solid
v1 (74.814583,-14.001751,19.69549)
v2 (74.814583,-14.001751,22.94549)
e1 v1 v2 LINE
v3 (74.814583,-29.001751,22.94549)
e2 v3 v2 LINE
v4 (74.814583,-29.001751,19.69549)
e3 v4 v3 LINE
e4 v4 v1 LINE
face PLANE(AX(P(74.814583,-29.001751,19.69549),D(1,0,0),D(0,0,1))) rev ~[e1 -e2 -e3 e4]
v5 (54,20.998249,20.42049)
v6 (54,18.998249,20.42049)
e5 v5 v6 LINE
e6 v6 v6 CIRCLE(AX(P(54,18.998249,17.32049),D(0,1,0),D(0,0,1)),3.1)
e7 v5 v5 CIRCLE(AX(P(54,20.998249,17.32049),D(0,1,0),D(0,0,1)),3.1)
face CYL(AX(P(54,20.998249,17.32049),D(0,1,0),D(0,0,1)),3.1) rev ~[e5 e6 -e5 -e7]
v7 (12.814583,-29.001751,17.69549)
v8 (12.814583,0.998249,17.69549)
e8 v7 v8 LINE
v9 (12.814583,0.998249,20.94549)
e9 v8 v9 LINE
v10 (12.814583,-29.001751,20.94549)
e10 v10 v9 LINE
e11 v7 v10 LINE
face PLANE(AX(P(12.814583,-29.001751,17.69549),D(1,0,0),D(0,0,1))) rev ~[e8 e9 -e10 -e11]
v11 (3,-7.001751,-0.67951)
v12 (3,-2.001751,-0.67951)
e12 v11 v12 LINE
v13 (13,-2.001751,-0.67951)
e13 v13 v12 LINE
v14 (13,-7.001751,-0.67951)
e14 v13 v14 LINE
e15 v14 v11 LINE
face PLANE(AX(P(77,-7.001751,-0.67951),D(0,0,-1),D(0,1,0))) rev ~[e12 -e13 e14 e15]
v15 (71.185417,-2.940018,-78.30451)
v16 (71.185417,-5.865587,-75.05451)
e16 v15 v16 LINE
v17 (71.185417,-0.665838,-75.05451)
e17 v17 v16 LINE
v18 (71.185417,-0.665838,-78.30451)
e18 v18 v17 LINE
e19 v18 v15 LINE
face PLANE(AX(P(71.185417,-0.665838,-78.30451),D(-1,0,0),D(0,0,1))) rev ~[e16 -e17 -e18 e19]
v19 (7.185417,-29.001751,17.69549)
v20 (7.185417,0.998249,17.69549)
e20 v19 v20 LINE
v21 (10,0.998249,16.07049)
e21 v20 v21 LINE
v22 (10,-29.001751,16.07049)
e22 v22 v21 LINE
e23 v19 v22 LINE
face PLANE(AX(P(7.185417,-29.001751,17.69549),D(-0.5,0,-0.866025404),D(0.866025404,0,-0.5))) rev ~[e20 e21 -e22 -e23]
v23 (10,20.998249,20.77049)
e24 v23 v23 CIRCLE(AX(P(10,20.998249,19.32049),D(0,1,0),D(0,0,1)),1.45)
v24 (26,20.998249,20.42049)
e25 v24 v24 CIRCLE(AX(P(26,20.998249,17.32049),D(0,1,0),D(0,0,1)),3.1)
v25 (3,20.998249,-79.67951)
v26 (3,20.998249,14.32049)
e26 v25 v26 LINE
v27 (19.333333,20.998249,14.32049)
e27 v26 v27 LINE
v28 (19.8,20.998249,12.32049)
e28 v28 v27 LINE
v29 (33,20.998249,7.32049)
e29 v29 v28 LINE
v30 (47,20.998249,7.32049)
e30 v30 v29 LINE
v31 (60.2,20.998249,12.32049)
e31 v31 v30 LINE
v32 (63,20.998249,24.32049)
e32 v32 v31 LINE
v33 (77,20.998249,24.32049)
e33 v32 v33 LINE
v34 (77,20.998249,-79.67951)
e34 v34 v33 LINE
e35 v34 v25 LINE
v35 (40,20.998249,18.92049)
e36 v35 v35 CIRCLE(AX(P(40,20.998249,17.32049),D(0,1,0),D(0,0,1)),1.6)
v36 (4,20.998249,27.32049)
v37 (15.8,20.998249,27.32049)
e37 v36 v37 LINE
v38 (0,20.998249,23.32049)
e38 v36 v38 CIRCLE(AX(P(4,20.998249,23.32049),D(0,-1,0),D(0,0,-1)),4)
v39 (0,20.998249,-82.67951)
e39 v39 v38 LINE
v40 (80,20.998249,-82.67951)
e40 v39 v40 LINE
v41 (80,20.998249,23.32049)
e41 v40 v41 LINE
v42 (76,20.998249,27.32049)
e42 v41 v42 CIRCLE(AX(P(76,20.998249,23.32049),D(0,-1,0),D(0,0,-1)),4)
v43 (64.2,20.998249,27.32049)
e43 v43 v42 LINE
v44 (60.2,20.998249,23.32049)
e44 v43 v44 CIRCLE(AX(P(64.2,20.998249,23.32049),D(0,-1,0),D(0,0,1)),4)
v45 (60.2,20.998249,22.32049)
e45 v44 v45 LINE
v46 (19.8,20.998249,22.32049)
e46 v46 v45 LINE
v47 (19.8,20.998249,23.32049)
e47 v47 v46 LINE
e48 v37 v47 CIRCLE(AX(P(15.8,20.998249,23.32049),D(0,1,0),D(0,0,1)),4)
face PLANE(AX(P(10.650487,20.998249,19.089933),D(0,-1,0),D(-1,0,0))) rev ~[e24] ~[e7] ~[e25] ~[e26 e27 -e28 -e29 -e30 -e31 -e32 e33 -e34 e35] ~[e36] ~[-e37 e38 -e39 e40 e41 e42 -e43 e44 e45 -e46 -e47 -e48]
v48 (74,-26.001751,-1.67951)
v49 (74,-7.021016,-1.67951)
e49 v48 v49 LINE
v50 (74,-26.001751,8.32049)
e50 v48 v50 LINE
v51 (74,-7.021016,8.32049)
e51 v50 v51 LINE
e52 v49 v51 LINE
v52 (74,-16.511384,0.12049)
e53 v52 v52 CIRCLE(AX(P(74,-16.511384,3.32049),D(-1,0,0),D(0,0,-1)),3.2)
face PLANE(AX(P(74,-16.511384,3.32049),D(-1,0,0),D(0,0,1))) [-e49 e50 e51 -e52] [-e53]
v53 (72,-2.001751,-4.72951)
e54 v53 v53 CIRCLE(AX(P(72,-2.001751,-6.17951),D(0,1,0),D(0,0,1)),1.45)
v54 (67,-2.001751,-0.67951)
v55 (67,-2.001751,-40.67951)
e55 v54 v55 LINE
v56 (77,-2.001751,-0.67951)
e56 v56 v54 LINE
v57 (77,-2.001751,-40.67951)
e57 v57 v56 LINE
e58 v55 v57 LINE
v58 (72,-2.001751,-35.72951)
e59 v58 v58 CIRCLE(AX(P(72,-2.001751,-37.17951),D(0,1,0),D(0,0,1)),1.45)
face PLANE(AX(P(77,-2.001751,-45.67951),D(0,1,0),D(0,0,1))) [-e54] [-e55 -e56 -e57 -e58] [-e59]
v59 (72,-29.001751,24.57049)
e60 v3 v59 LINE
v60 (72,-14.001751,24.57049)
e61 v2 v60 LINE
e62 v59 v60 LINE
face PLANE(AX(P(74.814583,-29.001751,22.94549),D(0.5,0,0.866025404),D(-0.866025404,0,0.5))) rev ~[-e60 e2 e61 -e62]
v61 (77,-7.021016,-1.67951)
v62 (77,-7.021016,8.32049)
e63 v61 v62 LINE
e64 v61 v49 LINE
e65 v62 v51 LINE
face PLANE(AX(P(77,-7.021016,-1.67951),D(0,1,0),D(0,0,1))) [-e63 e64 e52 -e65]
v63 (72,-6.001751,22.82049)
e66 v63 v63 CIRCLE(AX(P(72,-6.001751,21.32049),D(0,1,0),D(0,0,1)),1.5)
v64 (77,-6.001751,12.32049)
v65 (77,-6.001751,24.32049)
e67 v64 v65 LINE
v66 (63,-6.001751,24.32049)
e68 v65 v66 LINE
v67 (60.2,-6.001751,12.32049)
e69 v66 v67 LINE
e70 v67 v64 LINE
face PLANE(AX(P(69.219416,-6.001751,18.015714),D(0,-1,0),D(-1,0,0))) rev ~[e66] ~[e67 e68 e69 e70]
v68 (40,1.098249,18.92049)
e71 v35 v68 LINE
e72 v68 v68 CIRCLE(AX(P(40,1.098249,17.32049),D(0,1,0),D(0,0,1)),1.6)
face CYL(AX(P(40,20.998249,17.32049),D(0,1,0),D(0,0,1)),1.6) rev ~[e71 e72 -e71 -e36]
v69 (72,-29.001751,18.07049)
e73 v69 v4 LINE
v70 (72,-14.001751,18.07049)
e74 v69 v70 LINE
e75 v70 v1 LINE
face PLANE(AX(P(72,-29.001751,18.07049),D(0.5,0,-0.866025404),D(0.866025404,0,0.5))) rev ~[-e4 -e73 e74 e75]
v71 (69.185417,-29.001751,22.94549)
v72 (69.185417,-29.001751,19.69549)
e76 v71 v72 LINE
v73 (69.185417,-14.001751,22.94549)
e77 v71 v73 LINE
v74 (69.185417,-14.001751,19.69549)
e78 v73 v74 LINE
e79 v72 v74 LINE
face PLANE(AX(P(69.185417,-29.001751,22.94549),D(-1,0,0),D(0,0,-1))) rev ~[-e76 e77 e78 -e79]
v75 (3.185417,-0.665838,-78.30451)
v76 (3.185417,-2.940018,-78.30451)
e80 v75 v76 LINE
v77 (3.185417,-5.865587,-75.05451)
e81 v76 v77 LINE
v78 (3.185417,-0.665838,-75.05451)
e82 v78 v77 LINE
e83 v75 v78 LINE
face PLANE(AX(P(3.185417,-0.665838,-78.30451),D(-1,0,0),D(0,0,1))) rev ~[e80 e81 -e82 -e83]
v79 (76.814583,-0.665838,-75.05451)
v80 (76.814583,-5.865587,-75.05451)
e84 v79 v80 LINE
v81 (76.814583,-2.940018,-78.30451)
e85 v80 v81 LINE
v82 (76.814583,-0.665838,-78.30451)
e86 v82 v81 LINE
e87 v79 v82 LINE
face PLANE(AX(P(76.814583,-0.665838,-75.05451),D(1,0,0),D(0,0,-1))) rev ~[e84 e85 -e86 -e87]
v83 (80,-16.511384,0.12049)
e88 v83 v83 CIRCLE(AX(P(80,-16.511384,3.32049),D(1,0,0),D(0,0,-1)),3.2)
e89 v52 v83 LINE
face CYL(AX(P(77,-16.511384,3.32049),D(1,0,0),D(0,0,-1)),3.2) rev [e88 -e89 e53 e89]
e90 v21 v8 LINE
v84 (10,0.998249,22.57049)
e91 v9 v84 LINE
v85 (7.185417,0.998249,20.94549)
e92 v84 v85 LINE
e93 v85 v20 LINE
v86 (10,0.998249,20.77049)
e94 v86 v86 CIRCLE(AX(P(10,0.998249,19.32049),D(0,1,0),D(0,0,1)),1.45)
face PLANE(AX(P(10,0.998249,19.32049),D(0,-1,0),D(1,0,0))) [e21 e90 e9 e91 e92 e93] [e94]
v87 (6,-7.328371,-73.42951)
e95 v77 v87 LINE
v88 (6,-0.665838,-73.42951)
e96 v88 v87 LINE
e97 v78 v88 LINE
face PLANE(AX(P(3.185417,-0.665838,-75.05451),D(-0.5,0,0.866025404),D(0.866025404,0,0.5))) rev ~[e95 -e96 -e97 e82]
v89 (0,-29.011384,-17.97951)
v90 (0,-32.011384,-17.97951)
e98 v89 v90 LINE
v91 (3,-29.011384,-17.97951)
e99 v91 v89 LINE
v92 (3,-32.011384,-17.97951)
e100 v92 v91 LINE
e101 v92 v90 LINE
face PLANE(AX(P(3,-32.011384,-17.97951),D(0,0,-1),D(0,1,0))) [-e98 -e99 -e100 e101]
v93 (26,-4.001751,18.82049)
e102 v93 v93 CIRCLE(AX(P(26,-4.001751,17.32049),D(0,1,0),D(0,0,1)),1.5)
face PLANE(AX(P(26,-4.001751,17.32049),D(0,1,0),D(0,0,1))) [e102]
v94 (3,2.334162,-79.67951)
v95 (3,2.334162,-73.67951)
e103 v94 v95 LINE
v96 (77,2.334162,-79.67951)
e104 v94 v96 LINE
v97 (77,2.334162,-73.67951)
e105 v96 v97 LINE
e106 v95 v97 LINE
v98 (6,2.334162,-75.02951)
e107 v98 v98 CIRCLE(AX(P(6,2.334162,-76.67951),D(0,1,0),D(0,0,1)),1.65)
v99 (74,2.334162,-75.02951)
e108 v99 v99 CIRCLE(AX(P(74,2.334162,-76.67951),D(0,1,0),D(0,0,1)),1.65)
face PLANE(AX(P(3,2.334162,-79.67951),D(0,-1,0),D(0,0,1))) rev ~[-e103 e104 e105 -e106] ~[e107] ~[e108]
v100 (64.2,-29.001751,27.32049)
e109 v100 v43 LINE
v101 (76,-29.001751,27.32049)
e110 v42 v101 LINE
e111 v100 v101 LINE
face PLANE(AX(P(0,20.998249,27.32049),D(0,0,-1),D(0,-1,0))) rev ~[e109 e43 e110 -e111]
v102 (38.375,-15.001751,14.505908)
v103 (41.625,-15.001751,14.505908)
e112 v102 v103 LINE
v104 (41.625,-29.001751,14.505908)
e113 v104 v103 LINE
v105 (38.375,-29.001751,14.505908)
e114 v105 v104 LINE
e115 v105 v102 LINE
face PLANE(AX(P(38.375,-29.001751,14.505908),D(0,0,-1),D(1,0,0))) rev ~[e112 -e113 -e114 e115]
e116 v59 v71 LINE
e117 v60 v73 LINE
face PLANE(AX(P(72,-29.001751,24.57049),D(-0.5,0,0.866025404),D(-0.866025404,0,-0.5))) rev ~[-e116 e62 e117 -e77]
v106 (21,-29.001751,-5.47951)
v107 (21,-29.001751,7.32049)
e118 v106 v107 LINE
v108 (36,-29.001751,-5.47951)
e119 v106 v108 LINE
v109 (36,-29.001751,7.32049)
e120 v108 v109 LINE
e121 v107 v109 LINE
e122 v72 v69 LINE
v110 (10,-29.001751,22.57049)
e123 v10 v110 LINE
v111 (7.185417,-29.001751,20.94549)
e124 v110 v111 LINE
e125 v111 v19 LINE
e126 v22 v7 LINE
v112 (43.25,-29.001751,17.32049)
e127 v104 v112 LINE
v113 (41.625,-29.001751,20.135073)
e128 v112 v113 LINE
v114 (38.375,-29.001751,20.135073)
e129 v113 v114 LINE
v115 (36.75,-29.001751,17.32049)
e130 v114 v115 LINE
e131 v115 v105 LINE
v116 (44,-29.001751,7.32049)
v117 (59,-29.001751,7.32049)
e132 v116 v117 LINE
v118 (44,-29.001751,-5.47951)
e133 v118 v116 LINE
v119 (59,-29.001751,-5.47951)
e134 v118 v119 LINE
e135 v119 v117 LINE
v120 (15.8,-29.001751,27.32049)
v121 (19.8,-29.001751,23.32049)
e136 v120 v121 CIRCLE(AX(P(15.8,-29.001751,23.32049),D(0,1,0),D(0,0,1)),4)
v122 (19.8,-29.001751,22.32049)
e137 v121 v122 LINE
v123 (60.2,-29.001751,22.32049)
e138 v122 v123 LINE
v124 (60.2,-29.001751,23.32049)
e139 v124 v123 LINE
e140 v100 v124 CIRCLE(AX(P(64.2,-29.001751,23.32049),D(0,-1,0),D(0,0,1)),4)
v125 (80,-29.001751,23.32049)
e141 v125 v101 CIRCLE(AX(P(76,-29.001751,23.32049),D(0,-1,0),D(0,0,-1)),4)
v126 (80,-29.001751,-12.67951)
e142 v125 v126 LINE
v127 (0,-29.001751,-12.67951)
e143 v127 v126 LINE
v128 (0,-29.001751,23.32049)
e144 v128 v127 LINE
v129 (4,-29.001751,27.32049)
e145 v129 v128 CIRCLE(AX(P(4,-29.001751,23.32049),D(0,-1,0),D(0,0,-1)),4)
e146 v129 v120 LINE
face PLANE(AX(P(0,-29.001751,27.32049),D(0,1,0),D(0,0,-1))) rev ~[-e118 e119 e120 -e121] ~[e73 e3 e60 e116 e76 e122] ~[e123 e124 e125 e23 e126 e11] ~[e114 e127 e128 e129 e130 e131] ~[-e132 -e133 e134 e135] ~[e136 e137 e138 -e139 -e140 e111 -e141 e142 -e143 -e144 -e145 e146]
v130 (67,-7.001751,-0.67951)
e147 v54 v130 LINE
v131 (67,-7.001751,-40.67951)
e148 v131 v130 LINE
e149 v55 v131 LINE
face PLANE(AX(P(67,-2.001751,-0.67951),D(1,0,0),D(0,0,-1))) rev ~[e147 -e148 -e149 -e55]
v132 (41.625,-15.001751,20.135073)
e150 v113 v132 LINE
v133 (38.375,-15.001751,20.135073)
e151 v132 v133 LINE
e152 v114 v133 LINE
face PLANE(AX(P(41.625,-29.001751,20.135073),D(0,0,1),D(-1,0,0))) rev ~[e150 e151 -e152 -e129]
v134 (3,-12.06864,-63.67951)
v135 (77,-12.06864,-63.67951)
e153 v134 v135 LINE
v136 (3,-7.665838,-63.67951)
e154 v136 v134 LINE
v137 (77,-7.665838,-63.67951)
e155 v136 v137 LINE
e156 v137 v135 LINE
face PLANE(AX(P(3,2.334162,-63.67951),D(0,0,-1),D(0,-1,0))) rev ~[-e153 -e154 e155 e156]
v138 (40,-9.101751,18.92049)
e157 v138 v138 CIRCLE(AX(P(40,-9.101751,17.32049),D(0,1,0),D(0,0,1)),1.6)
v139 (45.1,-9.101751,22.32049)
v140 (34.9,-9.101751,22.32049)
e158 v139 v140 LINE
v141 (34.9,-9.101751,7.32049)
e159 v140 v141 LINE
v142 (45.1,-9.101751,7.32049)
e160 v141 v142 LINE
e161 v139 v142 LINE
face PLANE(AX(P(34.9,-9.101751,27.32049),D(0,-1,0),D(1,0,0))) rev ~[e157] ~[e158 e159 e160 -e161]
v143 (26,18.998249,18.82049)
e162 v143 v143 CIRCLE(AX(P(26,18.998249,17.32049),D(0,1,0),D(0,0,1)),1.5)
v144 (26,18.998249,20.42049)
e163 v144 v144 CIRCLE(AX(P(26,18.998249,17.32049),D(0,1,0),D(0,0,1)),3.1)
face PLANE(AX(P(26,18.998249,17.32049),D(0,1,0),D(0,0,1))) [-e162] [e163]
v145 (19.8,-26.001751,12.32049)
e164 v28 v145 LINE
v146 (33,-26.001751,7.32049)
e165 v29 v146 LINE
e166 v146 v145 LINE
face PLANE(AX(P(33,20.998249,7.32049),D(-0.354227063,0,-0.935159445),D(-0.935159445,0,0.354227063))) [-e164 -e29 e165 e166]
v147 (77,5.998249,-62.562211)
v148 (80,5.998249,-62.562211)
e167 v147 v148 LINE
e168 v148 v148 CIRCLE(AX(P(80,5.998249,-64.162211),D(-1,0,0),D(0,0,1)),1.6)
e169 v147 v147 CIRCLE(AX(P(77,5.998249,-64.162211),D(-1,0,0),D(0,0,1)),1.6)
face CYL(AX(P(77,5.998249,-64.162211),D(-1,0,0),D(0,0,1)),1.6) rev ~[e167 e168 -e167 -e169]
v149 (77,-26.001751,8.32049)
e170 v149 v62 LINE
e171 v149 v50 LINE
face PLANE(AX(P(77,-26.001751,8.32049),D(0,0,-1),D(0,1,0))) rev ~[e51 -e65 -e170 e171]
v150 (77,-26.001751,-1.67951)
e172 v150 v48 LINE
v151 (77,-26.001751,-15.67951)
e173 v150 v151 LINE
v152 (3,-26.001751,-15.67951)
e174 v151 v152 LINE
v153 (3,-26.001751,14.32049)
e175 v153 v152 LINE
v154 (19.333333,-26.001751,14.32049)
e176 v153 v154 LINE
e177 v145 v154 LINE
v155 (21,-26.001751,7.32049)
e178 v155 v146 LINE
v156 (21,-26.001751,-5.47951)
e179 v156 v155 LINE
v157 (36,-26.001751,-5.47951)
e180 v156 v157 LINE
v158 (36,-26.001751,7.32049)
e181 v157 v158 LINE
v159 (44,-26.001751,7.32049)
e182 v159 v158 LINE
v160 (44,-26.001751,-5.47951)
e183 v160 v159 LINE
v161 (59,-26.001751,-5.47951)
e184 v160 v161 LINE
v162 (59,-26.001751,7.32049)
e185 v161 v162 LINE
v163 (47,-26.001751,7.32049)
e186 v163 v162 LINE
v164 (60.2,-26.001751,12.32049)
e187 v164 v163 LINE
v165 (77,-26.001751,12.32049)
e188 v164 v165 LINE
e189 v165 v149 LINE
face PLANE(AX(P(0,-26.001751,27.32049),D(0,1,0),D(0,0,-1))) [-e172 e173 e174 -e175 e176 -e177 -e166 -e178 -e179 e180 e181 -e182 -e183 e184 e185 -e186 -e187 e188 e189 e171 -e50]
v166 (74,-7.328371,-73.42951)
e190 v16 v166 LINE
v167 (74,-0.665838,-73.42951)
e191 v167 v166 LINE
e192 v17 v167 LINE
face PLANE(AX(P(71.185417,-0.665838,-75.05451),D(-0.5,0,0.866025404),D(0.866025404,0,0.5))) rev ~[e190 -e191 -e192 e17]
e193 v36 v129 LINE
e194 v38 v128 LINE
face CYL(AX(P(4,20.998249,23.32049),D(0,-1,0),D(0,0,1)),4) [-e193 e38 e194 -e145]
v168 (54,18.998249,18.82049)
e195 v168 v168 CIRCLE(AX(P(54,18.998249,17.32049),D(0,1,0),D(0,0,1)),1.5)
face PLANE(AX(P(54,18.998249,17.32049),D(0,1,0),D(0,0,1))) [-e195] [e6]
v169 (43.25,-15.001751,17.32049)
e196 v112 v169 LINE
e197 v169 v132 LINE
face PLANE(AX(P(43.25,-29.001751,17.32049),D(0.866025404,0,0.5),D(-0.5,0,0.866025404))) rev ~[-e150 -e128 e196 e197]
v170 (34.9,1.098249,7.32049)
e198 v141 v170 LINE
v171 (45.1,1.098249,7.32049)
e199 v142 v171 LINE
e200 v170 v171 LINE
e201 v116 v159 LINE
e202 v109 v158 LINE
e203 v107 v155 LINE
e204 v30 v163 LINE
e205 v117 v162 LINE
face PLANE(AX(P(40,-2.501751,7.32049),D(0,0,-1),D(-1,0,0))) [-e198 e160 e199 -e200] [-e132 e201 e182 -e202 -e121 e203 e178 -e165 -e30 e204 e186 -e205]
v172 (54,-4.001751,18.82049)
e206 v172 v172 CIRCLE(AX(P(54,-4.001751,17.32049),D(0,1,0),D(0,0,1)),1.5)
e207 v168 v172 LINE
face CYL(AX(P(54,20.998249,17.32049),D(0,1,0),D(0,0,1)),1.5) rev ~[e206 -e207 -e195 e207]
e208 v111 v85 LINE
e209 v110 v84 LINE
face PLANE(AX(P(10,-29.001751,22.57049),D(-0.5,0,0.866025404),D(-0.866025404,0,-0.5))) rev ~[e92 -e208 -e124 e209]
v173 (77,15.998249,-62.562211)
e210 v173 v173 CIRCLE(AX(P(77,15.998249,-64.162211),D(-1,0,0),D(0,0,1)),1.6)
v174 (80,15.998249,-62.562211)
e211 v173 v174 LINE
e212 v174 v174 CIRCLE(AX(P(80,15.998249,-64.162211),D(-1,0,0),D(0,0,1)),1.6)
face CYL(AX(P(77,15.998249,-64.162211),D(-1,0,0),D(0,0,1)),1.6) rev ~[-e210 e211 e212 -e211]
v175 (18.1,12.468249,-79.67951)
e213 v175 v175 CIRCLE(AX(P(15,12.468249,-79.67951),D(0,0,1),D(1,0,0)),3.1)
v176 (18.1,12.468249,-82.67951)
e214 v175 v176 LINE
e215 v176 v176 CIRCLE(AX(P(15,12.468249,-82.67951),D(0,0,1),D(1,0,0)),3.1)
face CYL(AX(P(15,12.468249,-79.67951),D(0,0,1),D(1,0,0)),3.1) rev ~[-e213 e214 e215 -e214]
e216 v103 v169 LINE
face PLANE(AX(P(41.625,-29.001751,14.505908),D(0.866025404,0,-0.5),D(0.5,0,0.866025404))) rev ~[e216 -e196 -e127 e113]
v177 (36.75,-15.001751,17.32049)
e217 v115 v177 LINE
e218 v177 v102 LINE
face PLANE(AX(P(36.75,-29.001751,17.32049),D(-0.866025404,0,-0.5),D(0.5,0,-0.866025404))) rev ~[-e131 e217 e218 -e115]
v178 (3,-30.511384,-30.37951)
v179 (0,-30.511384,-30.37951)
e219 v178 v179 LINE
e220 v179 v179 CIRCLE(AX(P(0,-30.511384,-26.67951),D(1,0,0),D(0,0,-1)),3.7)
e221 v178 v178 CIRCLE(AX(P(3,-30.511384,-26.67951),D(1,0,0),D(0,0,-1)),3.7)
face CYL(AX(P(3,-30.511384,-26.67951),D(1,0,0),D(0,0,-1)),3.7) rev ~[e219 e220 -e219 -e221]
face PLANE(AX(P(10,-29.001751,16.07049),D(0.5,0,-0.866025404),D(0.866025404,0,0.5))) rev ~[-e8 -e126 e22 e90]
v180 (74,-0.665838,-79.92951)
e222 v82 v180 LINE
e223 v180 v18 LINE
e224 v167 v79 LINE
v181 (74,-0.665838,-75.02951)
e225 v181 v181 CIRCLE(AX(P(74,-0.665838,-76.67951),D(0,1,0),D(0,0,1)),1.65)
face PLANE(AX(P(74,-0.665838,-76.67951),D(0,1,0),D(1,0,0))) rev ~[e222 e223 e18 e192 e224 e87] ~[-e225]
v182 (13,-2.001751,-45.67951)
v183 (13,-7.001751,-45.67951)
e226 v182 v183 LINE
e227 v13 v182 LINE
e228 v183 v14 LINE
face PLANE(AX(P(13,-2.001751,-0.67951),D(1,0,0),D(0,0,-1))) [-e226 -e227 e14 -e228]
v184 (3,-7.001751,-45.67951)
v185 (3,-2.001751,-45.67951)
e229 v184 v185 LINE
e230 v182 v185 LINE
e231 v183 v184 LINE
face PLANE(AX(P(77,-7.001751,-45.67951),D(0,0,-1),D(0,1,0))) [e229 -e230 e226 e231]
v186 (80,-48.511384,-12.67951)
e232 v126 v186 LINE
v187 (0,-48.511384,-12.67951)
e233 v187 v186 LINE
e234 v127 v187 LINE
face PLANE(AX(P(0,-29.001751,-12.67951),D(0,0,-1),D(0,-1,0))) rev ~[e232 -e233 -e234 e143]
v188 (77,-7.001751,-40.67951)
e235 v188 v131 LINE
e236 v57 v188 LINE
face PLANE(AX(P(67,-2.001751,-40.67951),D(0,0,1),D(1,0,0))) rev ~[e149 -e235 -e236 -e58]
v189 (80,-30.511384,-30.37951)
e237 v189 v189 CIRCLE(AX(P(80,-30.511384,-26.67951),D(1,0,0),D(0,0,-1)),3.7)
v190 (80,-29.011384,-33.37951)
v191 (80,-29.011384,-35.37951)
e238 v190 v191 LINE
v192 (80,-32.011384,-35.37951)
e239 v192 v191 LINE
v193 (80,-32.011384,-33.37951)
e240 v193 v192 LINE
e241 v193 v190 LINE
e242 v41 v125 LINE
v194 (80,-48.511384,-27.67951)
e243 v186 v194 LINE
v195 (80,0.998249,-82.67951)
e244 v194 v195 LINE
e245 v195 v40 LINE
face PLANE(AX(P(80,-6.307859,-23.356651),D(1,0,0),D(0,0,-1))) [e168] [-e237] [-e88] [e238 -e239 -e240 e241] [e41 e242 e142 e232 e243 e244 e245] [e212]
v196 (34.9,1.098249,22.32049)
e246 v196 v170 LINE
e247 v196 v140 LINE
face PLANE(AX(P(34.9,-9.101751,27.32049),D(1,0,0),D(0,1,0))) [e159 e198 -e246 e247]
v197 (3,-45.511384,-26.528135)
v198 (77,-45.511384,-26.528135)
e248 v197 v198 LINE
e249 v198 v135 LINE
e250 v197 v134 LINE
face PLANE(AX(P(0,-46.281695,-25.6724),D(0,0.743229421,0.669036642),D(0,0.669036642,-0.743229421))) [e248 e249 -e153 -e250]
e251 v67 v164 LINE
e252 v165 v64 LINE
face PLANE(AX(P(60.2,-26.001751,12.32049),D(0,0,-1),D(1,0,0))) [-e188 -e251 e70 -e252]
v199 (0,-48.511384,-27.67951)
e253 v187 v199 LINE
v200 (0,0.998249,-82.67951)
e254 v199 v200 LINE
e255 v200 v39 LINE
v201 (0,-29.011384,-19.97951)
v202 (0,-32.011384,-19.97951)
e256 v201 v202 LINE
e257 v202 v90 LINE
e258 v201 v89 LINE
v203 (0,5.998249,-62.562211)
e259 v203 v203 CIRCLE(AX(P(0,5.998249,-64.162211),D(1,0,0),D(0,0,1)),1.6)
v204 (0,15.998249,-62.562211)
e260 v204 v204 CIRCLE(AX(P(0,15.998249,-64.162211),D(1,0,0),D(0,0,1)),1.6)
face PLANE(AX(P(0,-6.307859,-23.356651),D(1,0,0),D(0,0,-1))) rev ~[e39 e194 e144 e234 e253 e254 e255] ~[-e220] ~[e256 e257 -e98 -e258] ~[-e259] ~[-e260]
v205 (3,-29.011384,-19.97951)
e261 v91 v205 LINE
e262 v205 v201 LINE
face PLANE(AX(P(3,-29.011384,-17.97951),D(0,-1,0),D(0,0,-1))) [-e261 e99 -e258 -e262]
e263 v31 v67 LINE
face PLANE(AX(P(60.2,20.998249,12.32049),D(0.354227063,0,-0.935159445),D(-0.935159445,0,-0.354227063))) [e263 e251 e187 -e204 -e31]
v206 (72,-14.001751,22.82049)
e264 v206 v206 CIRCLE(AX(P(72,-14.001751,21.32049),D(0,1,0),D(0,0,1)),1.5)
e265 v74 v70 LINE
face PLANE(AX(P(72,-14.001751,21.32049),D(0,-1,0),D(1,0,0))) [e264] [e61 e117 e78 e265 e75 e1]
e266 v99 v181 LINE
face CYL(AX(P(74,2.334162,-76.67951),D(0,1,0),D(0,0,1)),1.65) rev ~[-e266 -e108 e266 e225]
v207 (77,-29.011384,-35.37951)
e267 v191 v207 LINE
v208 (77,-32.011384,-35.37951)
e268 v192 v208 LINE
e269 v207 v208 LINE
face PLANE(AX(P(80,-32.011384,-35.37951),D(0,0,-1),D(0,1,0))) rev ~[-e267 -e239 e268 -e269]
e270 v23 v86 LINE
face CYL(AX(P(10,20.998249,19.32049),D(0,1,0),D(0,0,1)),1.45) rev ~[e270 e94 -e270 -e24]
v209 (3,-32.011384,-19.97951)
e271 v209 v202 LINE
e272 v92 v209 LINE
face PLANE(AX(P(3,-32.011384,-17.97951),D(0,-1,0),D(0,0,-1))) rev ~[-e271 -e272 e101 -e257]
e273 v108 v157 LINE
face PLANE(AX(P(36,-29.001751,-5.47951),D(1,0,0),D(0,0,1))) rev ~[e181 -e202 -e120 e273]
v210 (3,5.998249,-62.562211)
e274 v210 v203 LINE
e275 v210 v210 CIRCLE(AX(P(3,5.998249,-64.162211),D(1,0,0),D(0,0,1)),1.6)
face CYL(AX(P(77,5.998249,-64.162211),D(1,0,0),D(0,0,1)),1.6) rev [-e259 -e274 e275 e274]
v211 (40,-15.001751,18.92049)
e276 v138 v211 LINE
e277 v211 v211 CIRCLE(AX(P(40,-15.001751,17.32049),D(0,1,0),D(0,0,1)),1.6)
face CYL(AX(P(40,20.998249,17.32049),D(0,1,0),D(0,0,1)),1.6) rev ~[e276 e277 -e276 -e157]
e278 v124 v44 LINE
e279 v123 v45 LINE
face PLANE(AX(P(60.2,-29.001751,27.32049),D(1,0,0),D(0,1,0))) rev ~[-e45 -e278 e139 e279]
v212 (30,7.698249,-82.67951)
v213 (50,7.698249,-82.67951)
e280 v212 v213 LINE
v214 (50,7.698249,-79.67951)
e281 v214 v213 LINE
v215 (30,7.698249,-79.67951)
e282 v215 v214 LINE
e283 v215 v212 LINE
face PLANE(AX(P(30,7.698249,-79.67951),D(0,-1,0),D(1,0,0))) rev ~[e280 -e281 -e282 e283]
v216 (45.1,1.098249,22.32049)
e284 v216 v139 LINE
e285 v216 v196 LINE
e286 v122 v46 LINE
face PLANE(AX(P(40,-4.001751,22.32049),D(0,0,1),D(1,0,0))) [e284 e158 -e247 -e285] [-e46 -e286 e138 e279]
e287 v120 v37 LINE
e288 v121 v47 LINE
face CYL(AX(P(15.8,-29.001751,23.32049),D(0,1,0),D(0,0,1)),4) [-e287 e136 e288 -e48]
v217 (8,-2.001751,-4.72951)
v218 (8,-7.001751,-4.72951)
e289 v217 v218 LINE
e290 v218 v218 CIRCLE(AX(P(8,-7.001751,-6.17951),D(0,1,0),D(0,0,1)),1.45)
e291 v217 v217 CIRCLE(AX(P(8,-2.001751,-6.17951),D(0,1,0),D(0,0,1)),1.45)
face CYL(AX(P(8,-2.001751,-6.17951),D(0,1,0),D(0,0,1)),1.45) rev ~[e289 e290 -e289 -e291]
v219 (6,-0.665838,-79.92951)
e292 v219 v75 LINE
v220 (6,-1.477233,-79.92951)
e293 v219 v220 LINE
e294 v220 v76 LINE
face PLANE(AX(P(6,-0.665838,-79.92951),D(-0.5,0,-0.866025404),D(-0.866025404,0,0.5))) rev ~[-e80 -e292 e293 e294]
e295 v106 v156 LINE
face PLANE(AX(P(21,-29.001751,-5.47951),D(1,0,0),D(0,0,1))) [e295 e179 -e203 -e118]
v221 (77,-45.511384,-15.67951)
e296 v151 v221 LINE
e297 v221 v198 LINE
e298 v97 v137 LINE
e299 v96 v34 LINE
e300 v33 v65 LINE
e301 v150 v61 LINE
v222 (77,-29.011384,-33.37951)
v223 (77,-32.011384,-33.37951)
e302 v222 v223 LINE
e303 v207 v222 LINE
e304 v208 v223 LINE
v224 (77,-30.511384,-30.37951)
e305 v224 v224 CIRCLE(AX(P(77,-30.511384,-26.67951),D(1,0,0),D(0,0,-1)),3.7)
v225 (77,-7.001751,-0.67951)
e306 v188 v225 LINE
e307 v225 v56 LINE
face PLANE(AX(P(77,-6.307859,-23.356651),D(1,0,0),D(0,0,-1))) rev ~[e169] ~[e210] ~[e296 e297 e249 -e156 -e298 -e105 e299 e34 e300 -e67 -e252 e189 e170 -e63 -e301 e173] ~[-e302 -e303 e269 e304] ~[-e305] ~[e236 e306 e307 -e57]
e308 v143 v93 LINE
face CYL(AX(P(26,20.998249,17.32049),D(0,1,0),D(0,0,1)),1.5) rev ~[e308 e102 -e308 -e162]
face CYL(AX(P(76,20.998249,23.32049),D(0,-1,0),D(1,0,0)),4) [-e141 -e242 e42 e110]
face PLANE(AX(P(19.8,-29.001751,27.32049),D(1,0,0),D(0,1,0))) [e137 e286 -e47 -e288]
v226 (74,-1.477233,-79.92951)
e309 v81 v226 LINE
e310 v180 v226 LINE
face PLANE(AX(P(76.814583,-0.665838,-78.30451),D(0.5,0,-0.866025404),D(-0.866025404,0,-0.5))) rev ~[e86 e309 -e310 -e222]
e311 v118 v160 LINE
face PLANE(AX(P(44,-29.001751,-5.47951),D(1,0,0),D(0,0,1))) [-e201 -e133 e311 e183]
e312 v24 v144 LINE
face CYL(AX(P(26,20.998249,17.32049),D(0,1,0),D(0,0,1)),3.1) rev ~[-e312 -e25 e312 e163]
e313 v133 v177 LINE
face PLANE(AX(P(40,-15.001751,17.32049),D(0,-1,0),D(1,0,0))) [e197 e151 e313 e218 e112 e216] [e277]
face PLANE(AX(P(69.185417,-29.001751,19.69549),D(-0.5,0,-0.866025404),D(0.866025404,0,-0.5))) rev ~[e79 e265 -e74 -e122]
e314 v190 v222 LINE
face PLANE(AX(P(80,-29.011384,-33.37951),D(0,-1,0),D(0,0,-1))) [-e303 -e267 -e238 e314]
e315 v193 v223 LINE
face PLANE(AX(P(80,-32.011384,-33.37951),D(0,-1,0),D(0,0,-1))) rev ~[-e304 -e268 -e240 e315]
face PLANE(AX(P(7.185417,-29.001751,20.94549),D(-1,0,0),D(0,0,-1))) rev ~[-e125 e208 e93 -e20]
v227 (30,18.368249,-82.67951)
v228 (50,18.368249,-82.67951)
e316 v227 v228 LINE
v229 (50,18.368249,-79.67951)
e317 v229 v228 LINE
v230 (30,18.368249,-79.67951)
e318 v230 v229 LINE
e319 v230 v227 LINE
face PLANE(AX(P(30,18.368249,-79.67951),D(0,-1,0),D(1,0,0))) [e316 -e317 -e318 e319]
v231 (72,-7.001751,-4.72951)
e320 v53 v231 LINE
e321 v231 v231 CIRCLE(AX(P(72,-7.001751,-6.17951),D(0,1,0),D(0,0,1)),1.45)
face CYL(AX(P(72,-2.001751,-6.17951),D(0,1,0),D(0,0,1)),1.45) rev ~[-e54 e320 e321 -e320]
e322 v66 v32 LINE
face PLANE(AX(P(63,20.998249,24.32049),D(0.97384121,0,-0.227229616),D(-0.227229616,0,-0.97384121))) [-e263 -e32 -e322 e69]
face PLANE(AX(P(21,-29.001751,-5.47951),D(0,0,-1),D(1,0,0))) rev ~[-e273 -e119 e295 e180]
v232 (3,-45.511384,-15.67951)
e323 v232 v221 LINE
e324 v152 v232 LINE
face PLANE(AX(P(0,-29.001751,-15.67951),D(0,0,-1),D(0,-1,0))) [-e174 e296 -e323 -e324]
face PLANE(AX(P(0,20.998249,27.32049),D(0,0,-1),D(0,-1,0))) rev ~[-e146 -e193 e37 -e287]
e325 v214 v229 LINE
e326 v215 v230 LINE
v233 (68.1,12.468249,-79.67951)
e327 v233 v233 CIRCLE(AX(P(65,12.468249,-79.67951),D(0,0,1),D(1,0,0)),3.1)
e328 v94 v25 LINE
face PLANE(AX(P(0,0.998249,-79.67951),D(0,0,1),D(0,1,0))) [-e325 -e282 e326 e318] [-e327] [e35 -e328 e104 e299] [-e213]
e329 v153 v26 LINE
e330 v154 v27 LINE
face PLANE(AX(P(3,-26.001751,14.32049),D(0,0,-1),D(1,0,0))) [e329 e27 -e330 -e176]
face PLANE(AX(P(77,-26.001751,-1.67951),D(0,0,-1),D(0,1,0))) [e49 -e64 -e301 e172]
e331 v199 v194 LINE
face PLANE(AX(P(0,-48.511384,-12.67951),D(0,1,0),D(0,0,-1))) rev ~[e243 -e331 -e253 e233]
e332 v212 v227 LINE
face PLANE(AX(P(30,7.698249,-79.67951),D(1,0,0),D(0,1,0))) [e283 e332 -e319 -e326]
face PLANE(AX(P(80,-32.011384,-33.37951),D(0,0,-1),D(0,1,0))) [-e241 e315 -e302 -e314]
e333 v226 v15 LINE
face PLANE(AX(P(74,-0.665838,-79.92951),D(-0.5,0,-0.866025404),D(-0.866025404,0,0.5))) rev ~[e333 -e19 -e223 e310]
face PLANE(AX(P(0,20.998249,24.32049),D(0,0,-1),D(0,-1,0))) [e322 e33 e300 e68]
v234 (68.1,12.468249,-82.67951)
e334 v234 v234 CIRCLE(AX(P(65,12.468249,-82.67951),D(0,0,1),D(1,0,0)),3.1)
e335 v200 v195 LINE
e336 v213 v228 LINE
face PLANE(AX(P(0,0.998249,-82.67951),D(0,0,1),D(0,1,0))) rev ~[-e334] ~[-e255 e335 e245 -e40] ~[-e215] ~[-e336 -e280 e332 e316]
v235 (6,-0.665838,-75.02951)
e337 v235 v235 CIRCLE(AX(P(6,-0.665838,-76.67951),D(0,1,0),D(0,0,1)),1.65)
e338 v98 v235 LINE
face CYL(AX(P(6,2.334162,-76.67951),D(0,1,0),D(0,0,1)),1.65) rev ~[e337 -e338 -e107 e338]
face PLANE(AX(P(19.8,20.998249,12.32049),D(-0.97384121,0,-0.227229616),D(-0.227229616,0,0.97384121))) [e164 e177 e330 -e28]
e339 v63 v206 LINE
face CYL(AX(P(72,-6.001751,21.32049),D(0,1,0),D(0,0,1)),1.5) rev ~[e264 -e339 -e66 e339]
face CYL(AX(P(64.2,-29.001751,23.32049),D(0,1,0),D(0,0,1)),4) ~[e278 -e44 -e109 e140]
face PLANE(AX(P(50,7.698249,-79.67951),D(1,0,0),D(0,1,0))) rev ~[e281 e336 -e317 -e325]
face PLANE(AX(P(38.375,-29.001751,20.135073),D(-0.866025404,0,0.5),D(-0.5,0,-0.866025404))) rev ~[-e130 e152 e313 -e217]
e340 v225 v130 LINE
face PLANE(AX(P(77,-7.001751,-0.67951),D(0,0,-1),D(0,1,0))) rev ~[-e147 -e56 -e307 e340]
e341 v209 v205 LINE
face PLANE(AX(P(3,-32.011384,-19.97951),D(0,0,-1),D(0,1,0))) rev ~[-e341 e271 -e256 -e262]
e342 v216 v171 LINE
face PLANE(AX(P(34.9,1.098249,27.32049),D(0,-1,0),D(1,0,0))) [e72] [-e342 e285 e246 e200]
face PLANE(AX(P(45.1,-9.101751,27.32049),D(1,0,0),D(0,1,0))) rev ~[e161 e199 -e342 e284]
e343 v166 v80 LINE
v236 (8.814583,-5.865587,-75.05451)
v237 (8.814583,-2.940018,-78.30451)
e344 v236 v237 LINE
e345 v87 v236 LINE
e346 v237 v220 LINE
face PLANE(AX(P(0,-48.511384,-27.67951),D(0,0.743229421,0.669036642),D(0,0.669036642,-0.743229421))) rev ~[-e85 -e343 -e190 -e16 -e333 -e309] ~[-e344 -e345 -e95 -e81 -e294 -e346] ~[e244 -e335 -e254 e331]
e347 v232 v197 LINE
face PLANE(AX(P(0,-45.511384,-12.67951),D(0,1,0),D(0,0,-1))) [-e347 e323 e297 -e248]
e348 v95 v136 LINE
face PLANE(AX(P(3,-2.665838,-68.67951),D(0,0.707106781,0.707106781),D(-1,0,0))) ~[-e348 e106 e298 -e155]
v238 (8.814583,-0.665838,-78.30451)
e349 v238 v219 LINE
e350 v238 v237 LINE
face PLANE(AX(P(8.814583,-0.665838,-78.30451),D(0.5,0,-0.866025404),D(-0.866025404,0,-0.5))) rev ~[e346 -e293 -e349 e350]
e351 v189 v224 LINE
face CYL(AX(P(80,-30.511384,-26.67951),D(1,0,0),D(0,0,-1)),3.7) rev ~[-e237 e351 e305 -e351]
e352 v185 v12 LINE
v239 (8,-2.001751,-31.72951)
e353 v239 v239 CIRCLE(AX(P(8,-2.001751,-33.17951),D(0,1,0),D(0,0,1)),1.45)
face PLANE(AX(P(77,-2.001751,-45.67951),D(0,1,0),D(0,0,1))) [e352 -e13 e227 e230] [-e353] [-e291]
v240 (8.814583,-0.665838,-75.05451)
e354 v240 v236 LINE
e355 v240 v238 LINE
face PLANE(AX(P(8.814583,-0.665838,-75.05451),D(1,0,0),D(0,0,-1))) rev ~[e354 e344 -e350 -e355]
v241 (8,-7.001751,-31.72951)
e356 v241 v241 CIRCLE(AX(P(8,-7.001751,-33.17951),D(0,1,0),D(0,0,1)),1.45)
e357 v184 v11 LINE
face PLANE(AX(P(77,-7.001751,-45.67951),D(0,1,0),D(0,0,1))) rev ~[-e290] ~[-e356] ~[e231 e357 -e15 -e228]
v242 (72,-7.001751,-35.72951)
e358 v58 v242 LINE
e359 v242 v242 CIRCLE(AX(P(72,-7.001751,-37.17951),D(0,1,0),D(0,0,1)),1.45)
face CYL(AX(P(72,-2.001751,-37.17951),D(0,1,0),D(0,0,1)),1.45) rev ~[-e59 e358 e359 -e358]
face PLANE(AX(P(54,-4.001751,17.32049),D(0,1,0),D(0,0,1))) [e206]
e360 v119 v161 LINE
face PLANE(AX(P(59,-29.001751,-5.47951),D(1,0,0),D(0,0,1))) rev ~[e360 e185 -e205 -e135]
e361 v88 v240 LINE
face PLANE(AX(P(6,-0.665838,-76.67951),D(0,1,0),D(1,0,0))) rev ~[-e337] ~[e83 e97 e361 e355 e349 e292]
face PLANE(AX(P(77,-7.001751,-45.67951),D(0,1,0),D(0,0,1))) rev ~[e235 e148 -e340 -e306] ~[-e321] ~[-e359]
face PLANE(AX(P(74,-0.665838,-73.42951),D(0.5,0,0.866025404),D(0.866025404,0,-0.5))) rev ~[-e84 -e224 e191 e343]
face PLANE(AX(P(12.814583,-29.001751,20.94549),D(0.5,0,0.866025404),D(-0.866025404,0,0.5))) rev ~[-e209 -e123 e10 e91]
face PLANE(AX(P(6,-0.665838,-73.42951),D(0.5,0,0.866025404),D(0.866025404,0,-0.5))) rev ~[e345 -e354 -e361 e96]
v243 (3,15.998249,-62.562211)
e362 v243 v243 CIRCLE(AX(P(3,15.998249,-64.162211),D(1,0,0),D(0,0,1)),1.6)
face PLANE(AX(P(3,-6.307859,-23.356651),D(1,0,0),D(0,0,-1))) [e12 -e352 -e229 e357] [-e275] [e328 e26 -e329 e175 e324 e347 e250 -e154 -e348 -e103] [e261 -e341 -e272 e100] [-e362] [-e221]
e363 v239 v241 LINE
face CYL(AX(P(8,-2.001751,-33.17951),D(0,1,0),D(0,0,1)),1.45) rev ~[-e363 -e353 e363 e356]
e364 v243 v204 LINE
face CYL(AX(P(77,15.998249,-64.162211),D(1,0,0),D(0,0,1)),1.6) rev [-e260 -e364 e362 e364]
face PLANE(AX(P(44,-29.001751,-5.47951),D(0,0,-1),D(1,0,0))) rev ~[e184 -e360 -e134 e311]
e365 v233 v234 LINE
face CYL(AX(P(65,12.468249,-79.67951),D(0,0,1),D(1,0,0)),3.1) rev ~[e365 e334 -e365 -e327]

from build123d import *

# Parameters (mm, degrees)
BOSS_EXTRUDE1_DEPTH      = 80
SHELL1_T                 = -3
SKETCH3_W                = 46
SKETCH3_H                = 47
BOSS_EXTRUDE2_DEPTH      = 17
SKETCH4_W                = 10.2
SKETCH4_H                = 10.2
CUT_EXTRUDE1_DEPTH       = 20
SKETCH6_W                = 15
SKETCH6_H                = 12.8
CUT_EXTRUDE2_DEPTH       = 3
SKETCH7_W                = 40.4
SKETCH7_H                = 50
CUT_EXTRUDE3_DEPTH       = 5
FILLET1_R                = 4
CUT_EXTRUDE7_DEPTH       = 47
SKETCH13_R               = 1.5
CUT_EXTRUDE8_DEPTH       = 25
SKETCH14_R               = 3.1
CUT_EXTRUDE9_DEPTH       = 2
SKETCH17_W               = 45
SKETCH17_H               = 5
BOSS_EXTRUDE5_DEPTH      = 74
CUT_EXTRUDE10_REACH      = 126.093
SKETCH18_W               = 54
SKETCH18_H               = 45
CUT_EXTRUDE11_REACH      = 126.093
SKETCH19_R               = 1.45
BOSS_EXTRUDE6_DEPTH      = 47
SKETCH22_R               = 1.45
CUT_EXTRUDE12_DEPTH      = 135.415364765
CUT_EXTRUDE13_REACH      = 126.857
SKETCH24_R               = 3.7
SKETCH24_W               = 2
SKETCH24_H               = 3
BOSS_EXTRUDE7_DEPTH      = 74
SKETCH27_R               = 1.65
CUT_EXTRUDE14_DEPTH      = 10
CUT_EXTRUDE15_START      = -3
CUT_EXTRUDE15_DEPTH      = 32
CUT_EXTRUDE16_DEPTH      = 30
BOSS_EXTRUDE8_DEPTH      = 20
SKETCH31_R               = 1.5
CUT_EXTRUDE17_DEPTH      = 123.649786567
CUT_EXTRUDE18_DEPTH      = 15
CUT_EXTRUDE19_REACH      = 126.093
SKETCH33_W               = 10
SKETCH33_H               = 5
SKETCH34_R               = 1.6
CUT_EXTRUDE20_DEPTH      = 135.415364765
CUT_EXTRUDE22_DEPTH      = 14
CUT_EXTRUDE23_REACH      = 126.857
SKETCH37_R               = 3.2
SKETCH38_W               = 10
SKETCH38_H               = 18.980735551
SKETCH38_R               = 3.2
BOSS_EXTRUDE9_DEPTH      = 3
CUT_EXTRUDE24_REACH      = 124.956
SKETCH40_R               = 3.7
SKETCH40_W               = 2
SKETCH40_H               = 3
SKETCH41_R               = 1.6
CUT_EXTRUDE25_DEPTH      = 123.956316006
CUT_EXTRUDE25_DEPTH_BACK = 123.956316006
SKETCH43_W               = 20
SKETCH43_H               = 10.67
CUT_EXTRUDE26_DEPTH      = 3
CHAMFER1_SIZE            = 10
SKETCH44_R               = 3.1
CUT_EXTRUDE27_DEPTH      = 143.134986308


with BuildPart() as part:
    # Sketch2 → Boss-Extrude1 (new body)
    with BuildSketch(Plane(origin=(0, 0, 0), x_dir=(0, 0, -1), z_dir=(1, 0, 0))):
        Polygon((-27.320490368, 20.998248687), (-27.320490368, -29.001751313), (12.679509632, -29.001751313), (12.679509632, -48.511383538), (27.679509632, -48.511383538), (82.679509632, 0.998248687), (82.679509632, 20.998248687), align=None)
    extrude(amount=BOSS_EXTRUDE1_DEPTH)

    # Shell1
    shell1_openings = [part.faces().sort_by_distance(p)[0] for p in [
        (40, 20.998248687, -27.679509632),
    ]]
    offset(amount=SHELL1_T, openings=shell1_openings, kind=Kind.INTERSECTION)

    # Sketch3 → Boss-Extrude2 (add)
    with BuildSketch(Plane(origin=(0, 0, 24.320490368), x_dir=(-1, 0, 0), z_dir=(0, 0, -1))):
        with Locations((-40, -2.501751313)):
            Rectangle(SKETCH3_W, SKETCH3_H)
    extrude(amount=BOSS_EXTRUDE2_DEPTH)

    # Sketch4 → Cut-Extrude1 (cut)
    with BuildSketch(Plane.XY.offset(27.320490368)):
        with Locations((40, -4.001751313)):
            Rectangle(SKETCH4_W, SKETCH4_H)
    extrude(amount=-CUT_EXTRUDE1_DEPTH, mode=Mode.SUBTRACT)

    # Sketch6 → Cut-Extrude2 (cut)
    with BuildSketch(Plane.XZ.offset(29.001751313)):
        with Locations((51.5, 0.920490368)):
            Rectangle(SKETCH6_W, SKETCH6_H)
        with Locations((28.5, 0.920490368)):
            Rectangle(SKETCH6_W, SKETCH6_H)
    extrude(amount=-CUT_EXTRUDE2_DEPTH, mode=Mode.SUBTRACT)

    # Sketch7 → Cut-Extrude3 (cut)
    with BuildSketch(Plane.XY.offset(27.320490368)):
        with Locations((40, -4.001751313)):
            Rectangle(SKETCH7_W, SKETCH7_H)
    extrude(amount=-CUT_EXTRUDE3_DEPTH, mode=Mode.SUBTRACT)

    # Fillet1
    fillet1_edges = [part.edges().sort_by_distance(p)[0] for p in [
        (19.8, -4.001751313, 27.320490368),
        (60.2, -4.001751313, 27.320490368),
        (80, -4.001751313, 27.320490368),
        (0, -4.001751313, 27.320490368),
    ]]
    fillet(fillet1_edges, radius=FILLET1_R)

    # Sketch12 → Cut-Extrude7 (cut)
    with BuildSketch(Plane(origin=(0, 20.998248687, 0), x_dir=(1, 0, 0), z_dir=(0, 1, 0))):
        Polygon((33, -7.320490368), (19.8, -12.320490368), (17, -24.320490368), (17, -7.320490368), align=None)
        Polygon((47, -7.320490368), (63, -7.320490368), (63, -24.320490368), (60.2, -12.320490368), align=None)
    extrude(amount=-CUT_EXTRUDE7_DEPTH, mode=Mode.SUBTRACT)

    # Sketch13 → Cut-Extrude8 (cut)
    with BuildSketch(Plane(origin=(0, 20.998248687, 0), x_dir=(1, 0, 0), z_dir=(0, 1, 0))):
        with Locations(Location((26, -17.320490368, 0), (0, 0, 270))):
            Circle(SKETCH13_R)
        with Locations(Location((54, -17.320490368, 0), (0, 0, 270))):
            Circle(SKETCH13_R)
    extrude(amount=-CUT_EXTRUDE8_DEPTH, mode=Mode.SUBTRACT)

    # Sketch14 → Cut-Extrude9 (cut)
    with BuildSketch(Plane(origin=(0, 20.998248687, 0), x_dir=(1, 0, 0), z_dir=(0, 1, 0))):
        with Locations(Location((26, -17.320490368, 0), (0, 0, 270))):
            Circle(SKETCH14_R)
        with Locations(Location((54, -17.320490368, 0), (0, 0, 270))):
            Circle(SKETCH14_R)
    extrude(amount=-CUT_EXTRUDE9_DEPTH, mode=Mode.SUBTRACT)

    # Sketch17 → Boss-Extrude5 (add)
    with BuildSketch(Plane.ZY.offset(-77)):
        with Locations((-23.179509632, -4.501751313)):
            Rectangle(SKETCH17_W, SKETCH17_H)
    extrude(amount=BOSS_EXTRUDE5_DEPTH)

    # Sketch18 → Cut-Extrude10 (cut, up to next)
    with BuildSketch(Plane(origin=(0, -2.001751313, 0), x_dir=(1, 0, 0), z_dir=(0, 1, 0)), mode=Mode.PRIVATE) as cut_extrude10_sk1:
        with Locations((40, 23.179509632)):
            Rectangle(SKETCH18_W, SKETCH18_H)
    cut_extrude10_tool1 = extrude(cut_extrude10_sk1.sketch, amount=-CUT_EXTRUDE10_REACH, mode=Mode.PRIVATE) & part.part
    add(cut_extrude10_tool1.solids().sort_by_distance((40, -2.001751, -23.17951))[0], mode=Mode.SUBTRACT)

    # Sketch19 → Cut-Extrude11 (cut, up to next)
    with BuildSketch(Plane(origin=(0, -2.001751313, 0), x_dir=(1, 0, 0), z_dir=(0, 1, 0)), mode=Mode.PRIVATE) as cut_extrude11_sk1:
        with Locations(Location((72, 37.179509632, 0), (0, 0, 270))):
            Circle(SKETCH19_R)
    cut_extrude11_tool1 = extrude(cut_extrude11_sk1.sketch, amount=-CUT_EXTRUDE11_REACH, mode=Mode.PRIVATE) & part.part
    # Sketch19 → Cut-Extrude11 (cut, up to next)
    with BuildSketch(Plane(origin=(0, -2.001751313, 0), x_dir=(1, 0, 0), z_dir=(0, 1, 0)), mode=Mode.PRIVATE) as cut_extrude11_sk2:
        with Locations(Location((72, 6.179509632, 0), (0, 0, 270))):
            Circle(SKETCH19_R)
    cut_extrude11_tool2 = extrude(cut_extrude11_sk2.sketch, amount=-CUT_EXTRUDE11_REACH, mode=Mode.PRIVATE) & part.part
    # Sketch19 → Cut-Extrude11 (cut, up to next)
    with BuildSketch(Plane(origin=(0, -2.001751313, 0), x_dir=(1, 0, 0), z_dir=(0, 1, 0)), mode=Mode.PRIVATE) as cut_extrude11_sk3:
        with Locations(Location((8, 33.179509632, 0), (0, 0, 270))):
            Circle(SKETCH19_R)
    cut_extrude11_tool3 = extrude(cut_extrude11_sk3.sketch, amount=-CUT_EXTRUDE11_REACH, mode=Mode.PRIVATE) & part.part
    # Sketch19 → Cut-Extrude11 (cut, up to next)
    with BuildSketch(Plane(origin=(0, -2.001751313, 0), x_dir=(1, 0, 0), z_dir=(0, 1, 0)), mode=Mode.PRIVATE) as cut_extrude11_sk4:
        with Locations(Location((8, 6.179509632, 0), (0, 0, 270))):
            Circle(SKETCH19_R)
    cut_extrude11_tool4 = extrude(cut_extrude11_sk4.sketch, amount=-CUT_EXTRUDE11_REACH, mode=Mode.PRIVATE) & part.part
    add(cut_extrude11_tool1.solids().sort_by_distance((72, -2.001751, -37.17951))[0], mode=Mode.SUBTRACT)
    add(cut_extrude11_tool2.solids().sort_by_distance((72, -2.001751, -6.17951))[0], mode=Mode.SUBTRACT)
    add(cut_extrude11_tool3.solids().sort_by_distance((8, -2.001751, -33.17951))[0], mode=Mode.SUBTRACT)
    add(cut_extrude11_tool4.solids().sort_by_distance((8, -2.001751, -6.17951))[0], mode=Mode.SUBTRACT)

    # Sketch21 → Boss-Extrude6 (add)
    with BuildSketch(Plane(origin=(0, -26.001751313, 0), x_dir=(1, 0, 0), z_dir=(0, 1, 0))):
        Polygon((3, -24.320490368), (3, -14.320490368), (19.333333333, -14.320490368), (17, -24.320490368), align=None)
    extrude(amount=BOSS_EXTRUDE6_DEPTH)

    # Sketch22 → Cut-Extrude12 (cut, through all)
    with BuildSketch(Plane(origin=(0, 20.998248687, 0), x_dir=(1, 0, 0), z_dir=(0, 1, 0))):
        with Locations(Location((10, -19.320490368, 0), (0, 0, 270))):
            Circle(SKETCH22_R)
    extrude(amount=-CUT_EXTRUDE12_DEPTH, mode=Mode.SUBTRACT)

    # Sketch24 → Cut-Extrude13 (cut, up to next)
    with BuildSketch(Plane(origin=(80, 0, 0), x_dir=(0, 0, -1), z_dir=(1, 0, 0)), mode=Mode.PRIVATE) as cut_extrude13_sk1:
        with Locations((26.679509632, -30.511383538)):
            Circle(SKETCH24_R)
    cut_extrude13_tool1 = extrude(cut_extrude13_sk1.sketch, amount=-CUT_EXTRUDE13_REACH, mode=Mode.PRIVATE) & part.part
    # Sketch24 → Cut-Extrude13 (cut, up to next)
    with BuildSketch(Plane(origin=(80, 0, 0), x_dir=(0, 0, -1), z_dir=(1, 0, 0)), mode=Mode.PRIVATE) as cut_extrude13_sk2:
        with Locations((34.379509632, -30.511383538)):
            Rectangle(SKETCH24_W, SKETCH24_H)
    cut_extrude13_tool2 = extrude(cut_extrude13_sk2.sketch, amount=-CUT_EXTRUDE13_REACH, mode=Mode.PRIVATE) & part.part
    add(cut_extrude13_tool1.solids().sort_by_distance((80, -30.511384, -26.67951))[0], mode=Mode.SUBTRACT)
    add(cut_extrude13_tool2.solids().sort_by_distance((80, -30.511384, -34.37951))[0], mode=Mode.SUBTRACT)

    # Sketch26 → Boss-Extrude7 (add)
    with BuildSketch(Plane(origin=(3, 0, 0), x_dir=(0, 0, -1), z_dir=(1, 0, 0))):
        Polygon((79.679509632, 2.334161996), (63.679509632, 2.334161996), (63.679509632, -12.068640106), align=None)
    extrude(amount=BOSS_EXTRUDE7_DEPTH)

    # Sketch27 → Cut-Extrude14 (cut)
    with BuildSketch(Plane(origin=(0, 2.334161996, 0), x_dir=(1, 0, 0), z_dir=(0, 1, 0))):
        with Locations(Location((6, 76.679509632, 0), (0, 0, 270))):
            Circle(SKETCH27_R)
        with Locations(Location((74, 76.679509632, 0), (0, 0, 270))):
            Circle(SKETCH27_R)
    extrude(amount=-CUT_EXTRUDE14_DEPTH, mode=Mode.SUBTRACT)

    # Sketch28 → Cut-Extrude15 (cut)
    with BuildSketch(Plane(origin=(0, 2.334161996, 0), x_dir=(1, 0, 0), z_dir=(0, 1, 0)).offset(CUT_EXTRUDE15_START)):
        Polygon((74, 79.929509632), (71.185417438, 78.304509632), (71.185417438, 75.054509632), (74, 73.429509632), (76.814582562, 75.054509632), (76.814582562, 78.304509632), align=None)
        Polygon((6, 73.429509632), (8.814582562, 75.054509632), (8.814582562, 78.304509632), (6, 79.929509632), (3.185417438, 78.304509632), (3.185417438, 75.054509632), align=None)
    extrude(amount=-CUT_EXTRUDE15_DEPTH, mode=Mode.SUBTRACT)

    # Sketch29 → Cut-Extrude16 (cut)
    with BuildSketch(Plane.XZ.offset(29.001751313)):
        Polygon((7.185417438, 17.695490368), (10, 16.070490368), (12.814582562, 17.695490368), (12.814582562, 20.945490368), (10, 22.570490368), (7.185417438, 20.945490368), align=None)
    extrude(amount=-CUT_EXTRUDE16_DEPTH, mode=Mode.SUBTRACT)

    # Sketch30 → Boss-Extrude8 (add)
    with BuildSketch(Plane(origin=(0, -26.001751313, 0), x_dir=(1, 0, 0), z_dir=(0, 1, 0))):
        Polygon((77, -24.320490368), (63, -24.320490368), (60.2, -12.320490368), (77, -12.320490368), align=None)
    extrude(amount=BOSS_EXTRUDE8_DEPTH)

    # Sketch31 → Cut-Extrude17 (cut, through all)
    with BuildSketch(Plane(origin=(0, -6.001751313, 0), x_dir=(1, 0, 0), z_dir=(0, 1, 0))):
        with Locations(Location((72, -21.320490368, 0), (0, 0, 270))):
            Circle(SKETCH31_R)
    extrude(amount=-CUT_EXTRUDE17_DEPTH, mode=Mode.SUBTRACT)

    # Sketch32 → Cut-Extrude18 (cut)
    with BuildSketch(Plane.XZ.offset(29.001751313)):
        Polygon((72, 24.570490368), (69.185417438, 22.945490368), (69.185417438, 19.695490368), (72, 18.070490368), (74.814582562, 19.695490368), (74.814582562, 22.945490368), align=None)
    extrude(amount=-CUT_EXTRUDE18_DEPTH, mode=Mode.SUBTRACT)

    # Sketch33 → Cut-Extrude19 (cut, up to next)
    with BuildSketch(Plane(origin=(0, -2.001751313, 0), x_dir=(1, 0, 0), z_dir=(0, 1, 0)), mode=Mode.PRIVATE) as cut_extrude19_sk1:
        with Locations((72, 43.179509632)):
            Rectangle(SKETCH33_W, SKETCH33_H)
    cut_extrude19_tool1 = extrude(cut_extrude19_sk1.sketch, amount=-CUT_EXTRUDE19_REACH, mode=Mode.PRIVATE) & part.part
    add(cut_extrude19_tool1.solids().sort_by_distance((72, -2.001751, -43.17951))[0], mode=Mode.SUBTRACT)

    # Sketch34 → Cut-Extrude20 (cut, through all)
    with BuildSketch(Plane(origin=(0, 20.998248687, 0), x_dir=(1, 0, 0), z_dir=(0, 1, 0))):
        with Locations(Location((40, -17.320490368, 0), (0, 0, 270))):
            Circle(SKETCH34_R)
    extrude(amount=-CUT_EXTRUDE20_DEPTH, mode=Mode.SUBTRACT)

    # Sketch36 → Cut-Extrude22 (cut)
    with BuildSketch(Plane.XZ.offset(29.001751313)):
        Polygon((38.375, 20.13507293), (36.75, 17.320490368), (38.375, 14.505907805), (41.625, 14.505907805), (43.25, 17.320490368), (41.625, 20.13507293), align=None)
    extrude(amount=-CUT_EXTRUDE22_DEPTH, mode=Mode.SUBTRACT)

    # Sketch37 → Cut-Extrude23 (cut, up to next)
    with BuildSketch(Plane(origin=(80, 0, 0), x_dir=(0, 0, -1), z_dir=(1, 0, 0)), mode=Mode.PRIVATE) as cut_extrude23_sk1:
        with Locations((-3.320490368, -16.511383538)):
            Circle(SKETCH37_R)
    cut_extrude23_tool1 = extrude(cut_extrude23_sk1.sketch, amount=-CUT_EXTRUDE23_REACH, mode=Mode.PRIVATE) & part.part
    add(cut_extrude23_tool1.solids().sort_by_distance((80, -16.511384, 3.32049))[0], mode=Mode.SUBTRACT)

    # Sketch38 → Boss-Extrude9 (add)
    with BuildSketch(Plane.ZY.offset(-77)):
        with Locations((3.320490368, -16.511383538)):
            Rectangle(SKETCH38_W, SKETCH38_H)
        with Locations(Location((3.320490368, -16.511383538, 0), (0, 0, 180))):
            Circle(SKETCH38_R, mode=Mode.SUBTRACT)
    extrude(amount=BOSS_EXTRUDE9_DEPTH)

    # Sketch40 → Cut-Extrude24 (cut, up to next)
    with BuildSketch(Plane(origin=(3, 0, 0), x_dir=(0, 0, -1), z_dir=(1, 0, 0)), mode=Mode.PRIVATE) as cut_extrude24_sk1:
        with Locations((26.679509632, -30.511383538)):
            Circle(SKETCH40_R)
    cut_extrude24_tool1 = extrude(cut_extrude24_sk1.sketch, amount=-CUT_EXTRUDE24_REACH, mode=Mode.PRIVATE) & part.part
    # Sketch40 → Cut-Extrude24 (cut, up to next)
    with BuildSketch(Plane(origin=(3, 0, 0), x_dir=(0, 0, -1), z_dir=(1, 0, 0)), mode=Mode.PRIVATE) as cut_extrude24_sk2:
        with Locations((18.979509632, -30.511383538)):
            Rectangle(SKETCH40_W, SKETCH40_H)
    cut_extrude24_tool2 = extrude(cut_extrude24_sk2.sketch, amount=-CUT_EXTRUDE24_REACH, mode=Mode.PRIVATE) & part.part
    add(cut_extrude24_tool1.solids().sort_by_distance((3, -30.511384, -26.67951))[0], mode=Mode.SUBTRACT)
    add(cut_extrude24_tool2.solids().sort_by_distance((3, -30.511384, -18.97951))[0], mode=Mode.SUBTRACT)

    # Sketch41 → Cut-Extrude25 (cut, two sides)
    with BuildSketch(Plane.ZY.offset(-77)) as cut_extrude25_sk:
        with Locations((-64.162210742, 15.998248687)):
            Circle(SKETCH41_R)
        with Locations((-64.162210742, 5.998248687)):
            Circle(SKETCH41_R)
    extrude(amount=CUT_EXTRUDE25_DEPTH, mode=Mode.SUBTRACT)
    extrude(cut_extrude25_sk.sketch, amount=-CUT_EXTRUDE25_DEPTH_BACK, mode=Mode.SUBTRACT)

    # Sketch43 → Cut-Extrude26 (cut)
    with BuildSketch(Plane.XY.offset(-79.679509632)):
        with Locations((40, 13.033248687)):
            Rectangle(SKETCH43_W, SKETCH43_H)
    extrude(amount=-CUT_EXTRUDE26_DEPTH, mode=Mode.SUBTRACT)

    # Chamfer1
    chamfer1_edges = [part.edges().sort_by_distance(p)[0] for p in [
        (40, 2.334161996, -63.679509632),
    ]]
    chamfer(chamfer1_edges, length=CHAMFER1_SIZE)

    # Sketch44 → Cut-Extrude27 (cut, through all)
    with BuildSketch(Plane.XY.offset(-79.679509632)):
        with Locations((65, 12.468248687)):
            Circle(SKETCH44_R)
        with Locations((15, 12.468248687)):
            Circle(SKETCH44_R)
    extrude(amount=-CUT_EXTRUDE27_DEPTH, mode=Mode.SUBTRACT)


solid = part.part
